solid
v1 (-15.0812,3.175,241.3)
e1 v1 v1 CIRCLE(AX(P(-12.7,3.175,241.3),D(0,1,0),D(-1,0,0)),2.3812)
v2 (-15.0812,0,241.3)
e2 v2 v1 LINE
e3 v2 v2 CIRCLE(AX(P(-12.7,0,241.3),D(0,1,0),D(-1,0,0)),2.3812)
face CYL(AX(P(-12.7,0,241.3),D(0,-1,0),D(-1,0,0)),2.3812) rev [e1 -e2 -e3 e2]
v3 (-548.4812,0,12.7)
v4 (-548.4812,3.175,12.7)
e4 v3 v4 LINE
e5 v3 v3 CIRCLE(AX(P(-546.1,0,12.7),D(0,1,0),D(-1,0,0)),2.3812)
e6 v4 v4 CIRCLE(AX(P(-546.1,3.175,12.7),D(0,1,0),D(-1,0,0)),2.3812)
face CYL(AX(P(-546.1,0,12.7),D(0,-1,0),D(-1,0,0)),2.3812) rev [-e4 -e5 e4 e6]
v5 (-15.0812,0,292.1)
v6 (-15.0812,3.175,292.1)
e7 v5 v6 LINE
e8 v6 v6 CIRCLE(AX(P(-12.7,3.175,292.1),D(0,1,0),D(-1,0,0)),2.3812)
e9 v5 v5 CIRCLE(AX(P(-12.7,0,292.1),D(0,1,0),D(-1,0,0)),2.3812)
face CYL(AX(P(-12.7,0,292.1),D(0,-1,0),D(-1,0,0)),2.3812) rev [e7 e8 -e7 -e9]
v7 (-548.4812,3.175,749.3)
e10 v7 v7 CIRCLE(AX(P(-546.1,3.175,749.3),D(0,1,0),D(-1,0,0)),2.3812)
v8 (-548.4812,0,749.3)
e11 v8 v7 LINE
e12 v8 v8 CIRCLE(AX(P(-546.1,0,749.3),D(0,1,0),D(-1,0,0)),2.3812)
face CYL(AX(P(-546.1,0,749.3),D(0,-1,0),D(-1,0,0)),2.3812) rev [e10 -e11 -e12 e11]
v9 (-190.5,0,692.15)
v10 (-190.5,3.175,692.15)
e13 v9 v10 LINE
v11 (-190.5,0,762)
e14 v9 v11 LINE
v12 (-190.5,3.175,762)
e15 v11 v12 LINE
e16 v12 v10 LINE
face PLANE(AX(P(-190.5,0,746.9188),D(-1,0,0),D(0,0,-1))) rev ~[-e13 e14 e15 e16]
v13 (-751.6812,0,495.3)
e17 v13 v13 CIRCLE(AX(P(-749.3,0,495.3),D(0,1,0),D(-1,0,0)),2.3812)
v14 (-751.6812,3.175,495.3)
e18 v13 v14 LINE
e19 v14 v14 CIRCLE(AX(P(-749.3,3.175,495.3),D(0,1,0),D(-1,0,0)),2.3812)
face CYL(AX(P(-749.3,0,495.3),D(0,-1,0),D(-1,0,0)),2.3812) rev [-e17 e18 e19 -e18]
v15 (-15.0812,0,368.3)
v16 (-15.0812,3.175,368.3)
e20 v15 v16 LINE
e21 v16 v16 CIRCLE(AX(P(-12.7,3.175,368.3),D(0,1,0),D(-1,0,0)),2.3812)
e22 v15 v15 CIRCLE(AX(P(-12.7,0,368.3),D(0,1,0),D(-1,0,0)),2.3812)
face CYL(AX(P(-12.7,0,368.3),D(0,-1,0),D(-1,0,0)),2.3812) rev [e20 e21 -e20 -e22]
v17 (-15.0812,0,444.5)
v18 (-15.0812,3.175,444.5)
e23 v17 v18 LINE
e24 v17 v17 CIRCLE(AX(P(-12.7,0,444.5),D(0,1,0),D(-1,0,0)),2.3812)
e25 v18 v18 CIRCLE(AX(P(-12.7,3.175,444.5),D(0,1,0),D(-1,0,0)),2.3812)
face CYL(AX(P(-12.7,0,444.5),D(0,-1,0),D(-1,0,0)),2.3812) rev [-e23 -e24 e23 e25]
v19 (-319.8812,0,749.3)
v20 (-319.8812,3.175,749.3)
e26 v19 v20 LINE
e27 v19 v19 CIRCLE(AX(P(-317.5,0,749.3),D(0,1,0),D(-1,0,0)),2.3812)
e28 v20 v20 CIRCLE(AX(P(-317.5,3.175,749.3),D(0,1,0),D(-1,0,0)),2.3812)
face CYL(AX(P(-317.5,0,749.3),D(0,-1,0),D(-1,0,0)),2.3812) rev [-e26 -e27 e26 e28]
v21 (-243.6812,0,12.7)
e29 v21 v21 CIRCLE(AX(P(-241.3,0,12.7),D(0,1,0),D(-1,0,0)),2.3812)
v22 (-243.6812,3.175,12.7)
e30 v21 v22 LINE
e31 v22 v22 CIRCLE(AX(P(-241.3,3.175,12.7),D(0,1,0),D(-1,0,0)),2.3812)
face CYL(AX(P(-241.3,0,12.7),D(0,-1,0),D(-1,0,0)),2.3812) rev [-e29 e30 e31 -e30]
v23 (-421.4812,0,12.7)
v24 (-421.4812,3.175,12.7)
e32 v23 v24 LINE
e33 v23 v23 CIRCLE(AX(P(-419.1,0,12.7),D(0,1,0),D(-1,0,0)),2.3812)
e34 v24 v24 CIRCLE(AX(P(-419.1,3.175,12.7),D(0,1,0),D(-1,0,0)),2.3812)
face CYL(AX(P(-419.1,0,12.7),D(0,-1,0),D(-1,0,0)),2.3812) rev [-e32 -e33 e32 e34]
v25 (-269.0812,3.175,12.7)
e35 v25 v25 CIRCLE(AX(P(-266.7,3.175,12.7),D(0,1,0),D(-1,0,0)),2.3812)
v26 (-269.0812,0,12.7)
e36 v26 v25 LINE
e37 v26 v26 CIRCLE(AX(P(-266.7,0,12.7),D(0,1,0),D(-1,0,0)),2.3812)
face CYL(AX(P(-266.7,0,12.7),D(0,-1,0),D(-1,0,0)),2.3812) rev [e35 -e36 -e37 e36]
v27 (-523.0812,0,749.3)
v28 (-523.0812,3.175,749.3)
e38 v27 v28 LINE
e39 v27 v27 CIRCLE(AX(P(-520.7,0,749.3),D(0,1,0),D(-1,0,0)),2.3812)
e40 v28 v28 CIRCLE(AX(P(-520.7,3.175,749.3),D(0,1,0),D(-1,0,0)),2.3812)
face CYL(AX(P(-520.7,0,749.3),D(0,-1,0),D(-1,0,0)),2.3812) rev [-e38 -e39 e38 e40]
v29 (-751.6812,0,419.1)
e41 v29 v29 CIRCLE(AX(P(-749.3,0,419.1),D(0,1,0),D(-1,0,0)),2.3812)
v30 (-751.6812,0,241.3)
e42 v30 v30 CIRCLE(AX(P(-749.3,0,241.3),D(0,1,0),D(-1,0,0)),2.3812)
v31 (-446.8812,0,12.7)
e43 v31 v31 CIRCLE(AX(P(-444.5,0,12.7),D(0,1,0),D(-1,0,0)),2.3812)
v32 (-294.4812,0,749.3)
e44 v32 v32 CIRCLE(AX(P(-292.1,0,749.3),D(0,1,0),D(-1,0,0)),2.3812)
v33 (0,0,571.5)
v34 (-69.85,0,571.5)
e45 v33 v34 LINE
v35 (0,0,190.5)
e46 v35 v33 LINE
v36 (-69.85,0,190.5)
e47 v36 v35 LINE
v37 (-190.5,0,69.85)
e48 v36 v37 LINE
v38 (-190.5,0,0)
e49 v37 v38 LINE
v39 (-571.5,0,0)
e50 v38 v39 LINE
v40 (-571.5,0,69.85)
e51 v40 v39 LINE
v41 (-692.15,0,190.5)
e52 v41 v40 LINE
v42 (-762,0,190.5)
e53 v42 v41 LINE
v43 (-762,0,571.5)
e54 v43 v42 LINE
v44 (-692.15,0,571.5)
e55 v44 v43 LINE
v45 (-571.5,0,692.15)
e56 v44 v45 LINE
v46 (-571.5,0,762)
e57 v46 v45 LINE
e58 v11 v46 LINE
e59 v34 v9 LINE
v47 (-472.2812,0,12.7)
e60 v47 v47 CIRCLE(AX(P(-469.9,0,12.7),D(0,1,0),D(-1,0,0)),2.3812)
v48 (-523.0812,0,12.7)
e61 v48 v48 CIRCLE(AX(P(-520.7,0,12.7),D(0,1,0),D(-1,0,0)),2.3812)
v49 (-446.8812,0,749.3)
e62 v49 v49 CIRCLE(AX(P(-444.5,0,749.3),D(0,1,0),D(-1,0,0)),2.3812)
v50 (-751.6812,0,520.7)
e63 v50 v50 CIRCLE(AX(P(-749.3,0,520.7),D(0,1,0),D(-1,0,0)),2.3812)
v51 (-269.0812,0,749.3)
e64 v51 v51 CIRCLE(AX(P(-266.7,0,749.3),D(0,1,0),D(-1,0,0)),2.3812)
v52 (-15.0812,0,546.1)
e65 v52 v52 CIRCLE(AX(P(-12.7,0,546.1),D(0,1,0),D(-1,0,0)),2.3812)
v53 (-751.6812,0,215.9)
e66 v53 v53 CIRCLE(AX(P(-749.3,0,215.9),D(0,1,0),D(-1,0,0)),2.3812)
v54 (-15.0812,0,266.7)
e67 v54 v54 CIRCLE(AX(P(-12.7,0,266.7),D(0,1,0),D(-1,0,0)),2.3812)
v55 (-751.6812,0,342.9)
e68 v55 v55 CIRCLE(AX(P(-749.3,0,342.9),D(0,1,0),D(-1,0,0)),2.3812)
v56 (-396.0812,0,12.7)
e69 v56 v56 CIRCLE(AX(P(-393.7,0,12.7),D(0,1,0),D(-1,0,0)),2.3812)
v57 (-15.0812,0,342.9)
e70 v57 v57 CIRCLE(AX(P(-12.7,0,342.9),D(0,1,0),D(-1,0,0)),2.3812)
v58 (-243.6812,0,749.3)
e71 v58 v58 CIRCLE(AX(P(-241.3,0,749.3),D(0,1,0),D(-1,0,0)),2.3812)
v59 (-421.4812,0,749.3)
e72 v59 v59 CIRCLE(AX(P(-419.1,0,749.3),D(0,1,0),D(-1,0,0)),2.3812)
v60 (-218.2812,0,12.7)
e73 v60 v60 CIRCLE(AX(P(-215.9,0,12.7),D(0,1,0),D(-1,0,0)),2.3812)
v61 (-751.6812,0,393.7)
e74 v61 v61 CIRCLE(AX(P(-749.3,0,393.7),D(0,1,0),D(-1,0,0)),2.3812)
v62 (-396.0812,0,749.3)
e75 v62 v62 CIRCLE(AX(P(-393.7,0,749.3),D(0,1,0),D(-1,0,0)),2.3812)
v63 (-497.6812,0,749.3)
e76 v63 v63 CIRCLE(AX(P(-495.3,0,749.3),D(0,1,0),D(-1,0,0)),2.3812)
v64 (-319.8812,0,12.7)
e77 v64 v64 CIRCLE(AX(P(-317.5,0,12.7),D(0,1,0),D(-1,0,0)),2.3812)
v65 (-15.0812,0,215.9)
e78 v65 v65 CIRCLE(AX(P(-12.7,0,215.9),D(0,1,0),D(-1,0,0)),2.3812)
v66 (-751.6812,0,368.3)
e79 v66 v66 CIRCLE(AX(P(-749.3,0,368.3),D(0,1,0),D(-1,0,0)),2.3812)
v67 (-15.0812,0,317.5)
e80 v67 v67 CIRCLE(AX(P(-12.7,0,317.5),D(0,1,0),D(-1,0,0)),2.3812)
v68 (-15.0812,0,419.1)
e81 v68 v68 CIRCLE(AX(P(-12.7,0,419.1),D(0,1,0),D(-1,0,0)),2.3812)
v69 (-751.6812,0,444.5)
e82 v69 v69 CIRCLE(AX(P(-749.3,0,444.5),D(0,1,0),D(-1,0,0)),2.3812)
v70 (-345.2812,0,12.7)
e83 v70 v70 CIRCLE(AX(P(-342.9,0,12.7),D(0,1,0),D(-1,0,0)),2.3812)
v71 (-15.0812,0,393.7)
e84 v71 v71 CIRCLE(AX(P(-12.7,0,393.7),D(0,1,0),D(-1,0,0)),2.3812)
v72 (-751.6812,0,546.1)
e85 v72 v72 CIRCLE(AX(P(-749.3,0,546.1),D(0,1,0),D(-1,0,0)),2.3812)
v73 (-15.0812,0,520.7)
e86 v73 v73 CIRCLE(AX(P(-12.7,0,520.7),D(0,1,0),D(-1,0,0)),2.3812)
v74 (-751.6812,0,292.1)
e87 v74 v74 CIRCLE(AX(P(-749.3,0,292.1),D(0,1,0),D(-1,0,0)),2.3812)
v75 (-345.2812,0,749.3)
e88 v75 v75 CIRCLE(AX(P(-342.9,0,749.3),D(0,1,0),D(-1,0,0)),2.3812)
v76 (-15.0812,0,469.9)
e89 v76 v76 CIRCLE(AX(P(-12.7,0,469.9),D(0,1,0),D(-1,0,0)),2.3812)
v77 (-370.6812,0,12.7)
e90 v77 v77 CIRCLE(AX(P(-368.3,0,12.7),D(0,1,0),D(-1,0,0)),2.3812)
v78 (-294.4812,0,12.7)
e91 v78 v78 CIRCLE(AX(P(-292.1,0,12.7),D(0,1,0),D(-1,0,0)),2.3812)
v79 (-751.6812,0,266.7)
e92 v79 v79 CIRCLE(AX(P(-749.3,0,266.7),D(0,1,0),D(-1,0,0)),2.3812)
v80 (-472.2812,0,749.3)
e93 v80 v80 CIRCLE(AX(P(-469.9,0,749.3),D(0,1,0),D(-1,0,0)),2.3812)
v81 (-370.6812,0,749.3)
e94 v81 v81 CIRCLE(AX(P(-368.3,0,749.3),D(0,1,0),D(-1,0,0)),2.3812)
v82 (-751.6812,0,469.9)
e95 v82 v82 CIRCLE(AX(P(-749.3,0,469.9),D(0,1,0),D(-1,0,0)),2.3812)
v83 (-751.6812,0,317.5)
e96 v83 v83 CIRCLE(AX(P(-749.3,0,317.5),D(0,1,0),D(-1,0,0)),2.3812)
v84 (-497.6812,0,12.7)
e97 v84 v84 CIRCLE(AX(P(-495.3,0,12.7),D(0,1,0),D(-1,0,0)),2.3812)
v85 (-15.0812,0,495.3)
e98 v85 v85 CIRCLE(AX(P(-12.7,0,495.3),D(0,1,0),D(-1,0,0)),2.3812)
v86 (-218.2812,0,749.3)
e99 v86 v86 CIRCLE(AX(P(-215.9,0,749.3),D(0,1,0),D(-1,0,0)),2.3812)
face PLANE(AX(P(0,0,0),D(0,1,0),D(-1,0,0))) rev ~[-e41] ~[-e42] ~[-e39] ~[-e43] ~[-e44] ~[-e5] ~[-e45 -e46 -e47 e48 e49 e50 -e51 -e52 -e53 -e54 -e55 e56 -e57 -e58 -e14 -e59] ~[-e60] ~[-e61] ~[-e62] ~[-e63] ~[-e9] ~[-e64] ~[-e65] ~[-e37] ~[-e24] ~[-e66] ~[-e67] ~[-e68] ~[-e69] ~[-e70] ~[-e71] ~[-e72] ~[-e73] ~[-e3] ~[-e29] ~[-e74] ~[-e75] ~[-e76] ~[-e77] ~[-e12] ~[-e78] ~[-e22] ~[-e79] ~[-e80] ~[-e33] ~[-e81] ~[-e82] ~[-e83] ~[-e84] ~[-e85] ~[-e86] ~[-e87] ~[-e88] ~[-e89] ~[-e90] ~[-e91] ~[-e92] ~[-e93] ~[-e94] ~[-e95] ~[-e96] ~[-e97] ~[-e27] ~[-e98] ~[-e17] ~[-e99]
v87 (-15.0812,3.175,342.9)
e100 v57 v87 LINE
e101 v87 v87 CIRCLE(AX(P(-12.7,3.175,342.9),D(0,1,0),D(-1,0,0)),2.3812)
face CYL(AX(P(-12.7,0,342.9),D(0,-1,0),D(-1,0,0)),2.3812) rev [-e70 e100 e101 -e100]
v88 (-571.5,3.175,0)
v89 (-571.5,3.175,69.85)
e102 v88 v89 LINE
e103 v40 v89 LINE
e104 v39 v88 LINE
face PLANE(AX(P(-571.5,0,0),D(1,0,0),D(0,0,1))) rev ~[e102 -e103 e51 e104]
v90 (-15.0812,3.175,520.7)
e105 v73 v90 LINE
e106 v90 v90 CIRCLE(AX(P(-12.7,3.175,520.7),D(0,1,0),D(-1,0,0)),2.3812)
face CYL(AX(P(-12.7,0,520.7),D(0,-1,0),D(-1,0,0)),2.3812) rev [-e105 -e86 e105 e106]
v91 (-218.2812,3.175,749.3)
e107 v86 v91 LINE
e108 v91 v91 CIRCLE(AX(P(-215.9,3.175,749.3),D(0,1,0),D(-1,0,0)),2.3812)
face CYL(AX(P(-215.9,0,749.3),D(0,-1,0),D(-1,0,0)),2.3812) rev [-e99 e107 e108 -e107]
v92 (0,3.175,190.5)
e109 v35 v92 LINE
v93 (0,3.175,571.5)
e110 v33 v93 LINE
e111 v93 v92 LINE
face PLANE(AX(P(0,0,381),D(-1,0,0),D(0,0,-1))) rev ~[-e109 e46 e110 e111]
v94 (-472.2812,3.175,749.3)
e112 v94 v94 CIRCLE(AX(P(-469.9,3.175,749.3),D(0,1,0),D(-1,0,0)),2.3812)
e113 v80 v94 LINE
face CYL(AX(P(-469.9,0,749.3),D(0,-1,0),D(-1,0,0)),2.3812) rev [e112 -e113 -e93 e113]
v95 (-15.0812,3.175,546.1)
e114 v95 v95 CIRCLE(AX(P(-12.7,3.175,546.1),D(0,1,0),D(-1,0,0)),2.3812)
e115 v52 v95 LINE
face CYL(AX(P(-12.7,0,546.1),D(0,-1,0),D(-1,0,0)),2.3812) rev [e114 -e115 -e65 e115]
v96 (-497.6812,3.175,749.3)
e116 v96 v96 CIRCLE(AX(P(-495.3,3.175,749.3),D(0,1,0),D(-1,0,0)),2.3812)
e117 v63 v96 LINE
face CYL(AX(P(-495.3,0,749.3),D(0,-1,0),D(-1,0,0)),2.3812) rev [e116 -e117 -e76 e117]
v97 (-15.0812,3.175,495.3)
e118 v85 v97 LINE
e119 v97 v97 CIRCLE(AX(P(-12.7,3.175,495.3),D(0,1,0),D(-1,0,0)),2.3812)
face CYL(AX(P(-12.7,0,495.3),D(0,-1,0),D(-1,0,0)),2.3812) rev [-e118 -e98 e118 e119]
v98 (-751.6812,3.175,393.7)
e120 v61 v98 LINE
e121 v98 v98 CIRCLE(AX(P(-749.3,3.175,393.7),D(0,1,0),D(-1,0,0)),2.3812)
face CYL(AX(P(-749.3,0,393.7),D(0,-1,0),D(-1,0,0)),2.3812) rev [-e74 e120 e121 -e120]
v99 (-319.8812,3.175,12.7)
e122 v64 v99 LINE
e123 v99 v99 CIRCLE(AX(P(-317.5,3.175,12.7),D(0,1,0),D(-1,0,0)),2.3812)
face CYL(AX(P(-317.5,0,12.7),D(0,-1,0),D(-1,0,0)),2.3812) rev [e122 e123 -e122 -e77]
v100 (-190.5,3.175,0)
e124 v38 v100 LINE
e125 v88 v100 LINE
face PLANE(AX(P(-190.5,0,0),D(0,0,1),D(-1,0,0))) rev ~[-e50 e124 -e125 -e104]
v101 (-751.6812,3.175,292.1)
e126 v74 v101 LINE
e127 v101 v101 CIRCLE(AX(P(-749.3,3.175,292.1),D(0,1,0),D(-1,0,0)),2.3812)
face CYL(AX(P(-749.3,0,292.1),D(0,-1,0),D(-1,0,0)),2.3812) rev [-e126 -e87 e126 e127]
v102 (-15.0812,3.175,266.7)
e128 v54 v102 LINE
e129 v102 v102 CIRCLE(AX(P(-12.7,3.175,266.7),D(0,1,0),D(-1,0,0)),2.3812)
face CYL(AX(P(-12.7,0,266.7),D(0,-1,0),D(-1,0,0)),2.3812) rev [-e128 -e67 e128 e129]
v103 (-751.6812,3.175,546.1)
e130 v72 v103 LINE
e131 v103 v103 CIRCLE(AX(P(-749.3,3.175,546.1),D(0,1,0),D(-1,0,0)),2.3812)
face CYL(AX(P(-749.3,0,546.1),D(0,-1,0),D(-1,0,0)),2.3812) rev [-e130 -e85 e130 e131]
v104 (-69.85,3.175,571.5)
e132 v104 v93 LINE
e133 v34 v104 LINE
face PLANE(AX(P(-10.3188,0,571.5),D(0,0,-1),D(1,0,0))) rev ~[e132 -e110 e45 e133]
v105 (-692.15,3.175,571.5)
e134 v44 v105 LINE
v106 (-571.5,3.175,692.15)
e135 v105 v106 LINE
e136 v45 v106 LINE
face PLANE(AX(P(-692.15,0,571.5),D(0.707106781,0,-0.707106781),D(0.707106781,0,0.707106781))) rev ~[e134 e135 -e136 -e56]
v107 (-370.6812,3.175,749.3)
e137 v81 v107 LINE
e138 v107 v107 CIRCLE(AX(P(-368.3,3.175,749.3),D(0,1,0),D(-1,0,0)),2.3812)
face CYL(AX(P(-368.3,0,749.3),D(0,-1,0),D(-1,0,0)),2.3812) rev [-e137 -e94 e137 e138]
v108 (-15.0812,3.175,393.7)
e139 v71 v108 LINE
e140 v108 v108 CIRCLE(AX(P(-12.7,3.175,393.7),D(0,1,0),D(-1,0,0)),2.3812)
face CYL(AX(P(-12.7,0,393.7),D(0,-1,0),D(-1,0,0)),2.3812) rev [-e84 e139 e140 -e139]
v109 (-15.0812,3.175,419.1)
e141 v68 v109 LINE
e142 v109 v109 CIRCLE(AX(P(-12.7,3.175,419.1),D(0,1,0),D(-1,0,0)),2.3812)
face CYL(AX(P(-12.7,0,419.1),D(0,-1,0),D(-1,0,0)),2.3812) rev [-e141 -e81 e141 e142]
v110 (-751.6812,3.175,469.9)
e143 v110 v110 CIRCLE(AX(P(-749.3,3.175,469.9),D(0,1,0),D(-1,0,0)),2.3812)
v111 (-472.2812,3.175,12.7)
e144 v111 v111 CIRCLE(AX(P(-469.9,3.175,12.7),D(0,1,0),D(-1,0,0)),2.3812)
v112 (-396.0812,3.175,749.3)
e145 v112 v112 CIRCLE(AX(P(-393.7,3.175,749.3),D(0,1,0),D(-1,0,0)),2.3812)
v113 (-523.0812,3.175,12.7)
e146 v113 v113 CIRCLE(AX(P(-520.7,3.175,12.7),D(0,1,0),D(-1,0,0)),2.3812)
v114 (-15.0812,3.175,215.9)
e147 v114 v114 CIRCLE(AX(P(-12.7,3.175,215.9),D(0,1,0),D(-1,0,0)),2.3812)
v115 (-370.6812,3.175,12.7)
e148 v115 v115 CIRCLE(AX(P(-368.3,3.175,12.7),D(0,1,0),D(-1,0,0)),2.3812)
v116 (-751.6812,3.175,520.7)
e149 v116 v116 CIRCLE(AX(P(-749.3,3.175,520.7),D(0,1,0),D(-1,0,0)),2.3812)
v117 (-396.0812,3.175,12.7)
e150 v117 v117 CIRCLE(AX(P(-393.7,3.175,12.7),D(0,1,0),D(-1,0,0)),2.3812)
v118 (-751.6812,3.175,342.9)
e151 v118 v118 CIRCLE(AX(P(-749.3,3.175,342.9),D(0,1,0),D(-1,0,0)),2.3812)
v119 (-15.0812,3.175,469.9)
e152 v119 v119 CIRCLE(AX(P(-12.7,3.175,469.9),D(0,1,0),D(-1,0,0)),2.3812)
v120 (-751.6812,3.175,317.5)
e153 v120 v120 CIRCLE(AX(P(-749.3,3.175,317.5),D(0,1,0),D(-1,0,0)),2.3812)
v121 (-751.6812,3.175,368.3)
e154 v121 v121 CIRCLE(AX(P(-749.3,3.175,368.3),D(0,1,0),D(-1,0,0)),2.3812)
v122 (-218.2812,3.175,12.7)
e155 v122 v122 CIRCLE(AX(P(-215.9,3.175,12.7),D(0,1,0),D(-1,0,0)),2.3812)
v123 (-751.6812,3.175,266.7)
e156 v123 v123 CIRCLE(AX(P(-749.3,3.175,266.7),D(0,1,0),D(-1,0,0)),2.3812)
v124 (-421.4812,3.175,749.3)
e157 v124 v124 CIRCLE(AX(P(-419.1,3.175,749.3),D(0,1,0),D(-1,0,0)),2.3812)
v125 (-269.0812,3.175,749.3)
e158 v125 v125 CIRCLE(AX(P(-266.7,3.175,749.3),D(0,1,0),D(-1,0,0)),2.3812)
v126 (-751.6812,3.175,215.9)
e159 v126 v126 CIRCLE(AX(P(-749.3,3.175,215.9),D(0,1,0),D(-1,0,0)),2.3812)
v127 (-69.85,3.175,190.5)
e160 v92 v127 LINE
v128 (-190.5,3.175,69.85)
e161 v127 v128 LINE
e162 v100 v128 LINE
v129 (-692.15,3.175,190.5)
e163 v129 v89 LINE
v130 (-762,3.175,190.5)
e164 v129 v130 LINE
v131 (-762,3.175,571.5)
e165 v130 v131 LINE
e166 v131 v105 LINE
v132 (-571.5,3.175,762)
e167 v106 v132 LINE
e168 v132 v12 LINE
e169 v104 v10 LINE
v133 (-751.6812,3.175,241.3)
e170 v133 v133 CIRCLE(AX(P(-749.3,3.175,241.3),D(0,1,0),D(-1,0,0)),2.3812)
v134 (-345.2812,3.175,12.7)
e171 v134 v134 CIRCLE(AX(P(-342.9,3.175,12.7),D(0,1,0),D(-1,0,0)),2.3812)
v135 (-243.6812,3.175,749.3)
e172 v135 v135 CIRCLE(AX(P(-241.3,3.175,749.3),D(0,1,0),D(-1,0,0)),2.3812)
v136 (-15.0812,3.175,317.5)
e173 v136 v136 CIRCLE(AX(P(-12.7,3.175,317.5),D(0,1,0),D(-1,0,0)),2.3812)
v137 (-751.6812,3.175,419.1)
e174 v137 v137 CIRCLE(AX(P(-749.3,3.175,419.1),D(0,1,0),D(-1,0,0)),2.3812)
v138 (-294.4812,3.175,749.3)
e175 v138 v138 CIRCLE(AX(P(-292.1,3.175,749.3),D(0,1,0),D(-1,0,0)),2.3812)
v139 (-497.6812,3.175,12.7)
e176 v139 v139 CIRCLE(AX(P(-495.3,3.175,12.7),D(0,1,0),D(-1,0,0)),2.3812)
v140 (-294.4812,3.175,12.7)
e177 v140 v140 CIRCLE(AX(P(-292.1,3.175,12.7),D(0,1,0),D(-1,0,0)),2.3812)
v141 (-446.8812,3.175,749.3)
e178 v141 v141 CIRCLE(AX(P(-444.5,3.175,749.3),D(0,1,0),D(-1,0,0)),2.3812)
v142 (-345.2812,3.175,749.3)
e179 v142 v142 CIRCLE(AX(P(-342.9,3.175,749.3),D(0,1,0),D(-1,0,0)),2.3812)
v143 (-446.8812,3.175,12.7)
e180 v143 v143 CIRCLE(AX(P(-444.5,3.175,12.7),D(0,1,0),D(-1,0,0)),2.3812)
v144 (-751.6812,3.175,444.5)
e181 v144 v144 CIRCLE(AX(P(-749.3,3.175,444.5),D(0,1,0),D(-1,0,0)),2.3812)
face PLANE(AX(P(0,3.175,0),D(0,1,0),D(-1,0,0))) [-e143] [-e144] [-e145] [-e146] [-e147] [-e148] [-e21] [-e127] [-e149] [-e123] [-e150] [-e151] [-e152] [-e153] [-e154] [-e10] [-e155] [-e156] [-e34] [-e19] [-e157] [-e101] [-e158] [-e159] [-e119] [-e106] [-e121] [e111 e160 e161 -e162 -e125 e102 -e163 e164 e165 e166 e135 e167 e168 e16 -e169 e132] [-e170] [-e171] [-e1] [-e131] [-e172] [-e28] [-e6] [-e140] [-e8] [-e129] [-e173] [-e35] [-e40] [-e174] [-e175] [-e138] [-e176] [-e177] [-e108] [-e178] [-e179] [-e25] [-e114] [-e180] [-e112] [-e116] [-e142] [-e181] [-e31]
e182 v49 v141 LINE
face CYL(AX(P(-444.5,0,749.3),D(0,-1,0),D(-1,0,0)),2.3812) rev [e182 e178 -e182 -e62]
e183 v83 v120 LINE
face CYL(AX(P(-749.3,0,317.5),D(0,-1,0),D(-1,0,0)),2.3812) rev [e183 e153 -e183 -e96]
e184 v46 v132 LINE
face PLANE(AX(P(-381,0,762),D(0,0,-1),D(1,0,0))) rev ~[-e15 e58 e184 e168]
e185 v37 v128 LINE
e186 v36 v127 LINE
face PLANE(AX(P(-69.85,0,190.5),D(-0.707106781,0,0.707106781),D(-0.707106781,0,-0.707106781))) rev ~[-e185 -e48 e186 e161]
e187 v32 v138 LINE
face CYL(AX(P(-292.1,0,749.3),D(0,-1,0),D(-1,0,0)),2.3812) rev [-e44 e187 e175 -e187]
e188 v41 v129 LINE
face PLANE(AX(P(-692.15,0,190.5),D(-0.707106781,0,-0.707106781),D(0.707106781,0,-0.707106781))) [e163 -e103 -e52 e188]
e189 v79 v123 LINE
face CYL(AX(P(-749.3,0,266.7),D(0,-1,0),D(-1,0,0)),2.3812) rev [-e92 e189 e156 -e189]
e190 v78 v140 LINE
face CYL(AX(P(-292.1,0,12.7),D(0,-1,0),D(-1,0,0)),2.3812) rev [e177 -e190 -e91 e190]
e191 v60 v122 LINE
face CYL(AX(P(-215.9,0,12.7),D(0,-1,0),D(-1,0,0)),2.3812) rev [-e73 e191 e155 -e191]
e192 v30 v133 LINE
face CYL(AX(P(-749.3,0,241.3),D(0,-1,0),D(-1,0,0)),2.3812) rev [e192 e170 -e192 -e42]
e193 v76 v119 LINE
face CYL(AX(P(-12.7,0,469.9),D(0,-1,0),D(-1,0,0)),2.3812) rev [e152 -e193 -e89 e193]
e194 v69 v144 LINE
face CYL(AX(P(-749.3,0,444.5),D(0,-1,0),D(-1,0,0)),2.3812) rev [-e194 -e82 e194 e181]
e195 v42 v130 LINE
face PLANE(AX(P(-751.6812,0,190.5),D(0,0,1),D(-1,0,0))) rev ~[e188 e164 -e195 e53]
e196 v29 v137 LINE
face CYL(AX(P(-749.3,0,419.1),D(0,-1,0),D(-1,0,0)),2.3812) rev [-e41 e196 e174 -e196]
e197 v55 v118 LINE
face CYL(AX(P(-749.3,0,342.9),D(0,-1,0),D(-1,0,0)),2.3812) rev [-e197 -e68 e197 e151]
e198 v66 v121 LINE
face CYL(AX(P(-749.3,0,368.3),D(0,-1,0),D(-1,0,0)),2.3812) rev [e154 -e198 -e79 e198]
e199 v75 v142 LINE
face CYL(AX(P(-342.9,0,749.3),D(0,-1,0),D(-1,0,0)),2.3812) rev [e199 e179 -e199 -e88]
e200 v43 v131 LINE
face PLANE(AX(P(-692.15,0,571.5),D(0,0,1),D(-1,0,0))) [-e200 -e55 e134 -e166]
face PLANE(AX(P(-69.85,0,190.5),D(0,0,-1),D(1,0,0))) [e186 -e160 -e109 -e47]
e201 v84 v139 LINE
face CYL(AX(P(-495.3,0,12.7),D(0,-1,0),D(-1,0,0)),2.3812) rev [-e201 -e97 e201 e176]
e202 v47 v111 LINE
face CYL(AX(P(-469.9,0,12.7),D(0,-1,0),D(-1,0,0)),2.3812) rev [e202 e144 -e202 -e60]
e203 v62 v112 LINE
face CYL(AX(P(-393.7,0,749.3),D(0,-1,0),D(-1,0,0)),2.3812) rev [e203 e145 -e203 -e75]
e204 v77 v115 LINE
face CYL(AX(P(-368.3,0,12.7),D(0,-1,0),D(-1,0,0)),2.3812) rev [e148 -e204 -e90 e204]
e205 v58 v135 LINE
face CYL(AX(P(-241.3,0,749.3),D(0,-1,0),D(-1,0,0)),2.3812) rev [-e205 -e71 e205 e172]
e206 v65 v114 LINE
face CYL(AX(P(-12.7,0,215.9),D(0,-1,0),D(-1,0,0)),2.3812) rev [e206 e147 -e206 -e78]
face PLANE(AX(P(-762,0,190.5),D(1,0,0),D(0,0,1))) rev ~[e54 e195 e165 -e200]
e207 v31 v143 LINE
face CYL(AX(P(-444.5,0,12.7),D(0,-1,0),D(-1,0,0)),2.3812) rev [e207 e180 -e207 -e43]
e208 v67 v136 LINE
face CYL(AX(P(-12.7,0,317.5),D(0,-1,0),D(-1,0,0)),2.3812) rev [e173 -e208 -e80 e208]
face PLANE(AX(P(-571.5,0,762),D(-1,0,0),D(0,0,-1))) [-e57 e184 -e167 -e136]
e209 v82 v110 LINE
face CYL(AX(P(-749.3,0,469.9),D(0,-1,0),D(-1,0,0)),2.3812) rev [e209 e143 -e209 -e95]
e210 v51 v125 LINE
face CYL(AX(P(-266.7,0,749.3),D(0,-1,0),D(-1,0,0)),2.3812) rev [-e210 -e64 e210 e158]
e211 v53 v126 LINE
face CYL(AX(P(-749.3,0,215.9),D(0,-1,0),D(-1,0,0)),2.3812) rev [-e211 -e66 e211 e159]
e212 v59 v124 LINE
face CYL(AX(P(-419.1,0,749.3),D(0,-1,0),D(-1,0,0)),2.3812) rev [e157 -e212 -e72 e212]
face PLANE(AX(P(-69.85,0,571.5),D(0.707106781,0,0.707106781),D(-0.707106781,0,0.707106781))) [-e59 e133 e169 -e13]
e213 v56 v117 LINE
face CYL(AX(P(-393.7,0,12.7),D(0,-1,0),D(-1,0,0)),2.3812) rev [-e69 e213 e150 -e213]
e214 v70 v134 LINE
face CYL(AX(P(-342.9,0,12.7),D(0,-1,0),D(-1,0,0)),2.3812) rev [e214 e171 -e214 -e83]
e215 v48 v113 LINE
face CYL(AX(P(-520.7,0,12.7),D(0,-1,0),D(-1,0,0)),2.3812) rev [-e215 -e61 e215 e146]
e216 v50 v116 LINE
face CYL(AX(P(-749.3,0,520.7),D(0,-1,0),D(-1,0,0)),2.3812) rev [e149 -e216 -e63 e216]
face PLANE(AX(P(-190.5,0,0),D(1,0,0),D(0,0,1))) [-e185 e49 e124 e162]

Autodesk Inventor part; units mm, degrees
ref_plane "YZ Plane" through (0, 0, 0) normal (1, 0, 0) x (0, 1, 0)
ref_plane "XZ Plane" through (0, 0, 0) normal (0, 1, 0) x (-1, 0, 0)
ref_plane "XY Plane" through (0, 0, 0) normal (0, 0, 1) x (1, 0, 0)
sketch "Sketch1" plane through (0, 0, 0) normal (0, 1, 0) x (-1, 0, 0)
  line L0 (0, 0) -> (762, 0)
  line L1 (762, 0) -> (762, 762)
  line L2 (762, 762) -> (0, 762)
  line L3 (0, 762) -> (0, 0)
  line L4 (0, 0) -> (190.5, 0)
  line L5 (190.5, 0) -> (190.5, 69.85)
  line L6 (190.5, 69.85) -> (0, 69.85)
  line L7 (0, 69.85) -> (0, 0)
  line L8 (0, 0) -> (69.85, 0)
  line L9 (69.85, 0) -> (69.85, 190.5)
  line L10 (69.85, 190.5) -> (0, 190.5)
  line L11 (0, 190.5) -> (0, 0)
  line L12 (69.85, 190.5) -> (190.5, 69.85)
  line L13 (381, 0) -> (381, 762)
  line L14 (0, 381) -> (762, 381)
  line L15 (190.5, 762) -> (190.5, 692.15)
  line L16 (190.5, 692.15) -> (0, 692.15)
  line L17 (69.85, 762) -> (69.85, 571.5)
  line L18 (69.85, 571.5) -> (0, 571.5)
  line L19 (69.85, 571.5) -> (190.5, 692.15)
  line L20 (571.5, 0) -> (571.5, 69.85)
  line L21 (571.5, 69.85) -> (762, 69.85)
  line L22 (692.15, 0) -> (692.15, 190.5)
  line L23 (692.15, 190.5) -> (762, 190.5)
  line L24 (692.15, 190.5) -> (571.5, 69.85)
  line L25 (571.5, 692.15) -> (762, 692.15)
  line L26 (692.15, 571.5) -> (571.5, 692.15)
  line L27 (692.15, 762) -> (692.15, 571.5)
  line L28 (571.5, 762) -> (571.5, 692.15)
  line L29 (692.15, 571.5) -> (762, 571.5)
  circle A0 centre (749.3, 749.3) radius 2.3812
  circle A1 centre (749.3, 723.9) radius 2.3812
  circle A2 centre (749.3, 698.5) radius 2.3812
  circle A3 centre (749.3, 673.1) radius 2.3812
  circle A4 centre (749.3, 647.7) radius 2.3812
  circle A5 centre (749.3, 622.3) radius 2.3812
  circle A6 centre (749.3, 596.9) radius 2.3812
  circle A7 centre (749.3, 571.5) radius 2.3812
  circle A8 centre (749.3, 546.1) radius 2.3812
  circle A9 centre (749.3, 520.7) radius 2.3812
  circle A10 centre (749.3, 495.3) radius 2.3812
  circle A11 centre (749.3, 469.9) radius 2.3812
  circle A12 centre (749.3, 444.5) radius 2.3812
  circle A13 centre (749.3, 419.1) radius 2.3812
  circle A14 centre (749.3, 393.7) radius 2.3812
  circle A15 centre (749.3, 368.3) radius 2.3812
  circle A16 centre (749.3, 342.9) radius 2.3812
  circle A17 centre (749.3, 317.5) radius 2.3812
  circle A18 centre (749.3, 292.1) radius 2.3812
  circle A19 centre (749.3, 266.7) radius 2.3812
  circle A20 centre (749.3, 241.3) radius 2.3812
  circle A21 centre (749.3, 215.9) radius 2.3812
  circle A22 centre (749.3, 190.5) radius 2.3812
  circle A23 centre (749.3, 165.1) radius 2.3812
  circle A24 centre (749.3, 139.7) radius 2.3812
  circle A25 centre (749.3, 114.3) radius 2.3812
  circle A26 centre (749.3, 88.9) radius 2.3812
  circle A27 centre (749.3, 63.5) radius 2.3812
  circle A28 centre (749.3, 38.1) radius 2.3812
  circle A29 centre (749.3, 12.7) radius 2.3812
  circle A30 centre (12.7, 749.3) radius 2.3812
  circle A31 centre (12.7, 723.9) radius 2.3812
  circle A32 centre (12.7, 698.5) radius 2.3812
  circle A33 centre (12.7, 673.1) radius 2.3812
  circle A34 centre (12.7, 647.7) radius 2.3812
  circle A35 centre (12.7, 622.3) radius 2.3812
  circle A36 centre (12.7, 596.9) radius 2.3812
  circle A37 centre (12.7, 571.5) radius 2.3812
  circle A38 centre (12.7, 546.1) radius 2.3812
  circle A39 centre (12.7, 520.7) radius 2.3812
  circle A40 centre (12.7, 495.3) radius 2.3812
  circle A41 centre (12.7, 469.9) radius 2.3812
  circle A42 centre (12.7, 444.5) radius 2.3812
  circle A43 centre (12.7, 419.1) radius 2.3812
  circle A44 centre (12.7, 393.7) radius 2.3812
  circle A45 centre (12.7, 368.3) radius 2.3812
  circle A46 centre (12.7, 342.9) radius 2.3812
  circle A47 centre (12.7, 317.5) radius 2.3812
  circle A48 centre (12.7, 292.1) radius 2.3812
  circle A49 centre (12.7, 266.7) radius 2.3812
  circle A50 centre (12.7, 241.3) radius 2.3812
  circle A51 centre (12.7, 215.9) radius 2.3812
  circle A52 centre (12.7, 190.5) radius 2.3812
  circle A53 centre (12.7, 165.1) radius 2.3812
  circle A54 centre (12.7, 139.7) radius 2.3812
  circle A55 centre (12.7, 114.3) radius 2.3812
  circle A56 centre (12.7, 88.9) radius 2.3812
  circle A57 centre (12.7, 63.5) radius 2.3812
  circle A58 centre (12.7, 38.1) radius 2.3812
  circle A59 centre (12.7, 12.7) radius 2.3812
  circle A60 centre (723.9, 749.3) radius 2.3812
  circle A61 centre (698.5, 749.3) radius 2.3812
  circle A62 centre (673.1, 749.3) radius 2.3812
  circle A63 centre (647.7, 749.3) radius 2.3812
  circle A64 centre (622.3, 749.3) radius 2.3812
  circle A65 centre (596.9, 749.3) radius 2.3812
  circle A66 centre (571.5, 749.3) radius 2.3812
  circle A67 centre (546.1, 749.3) radius 2.3812
  circle A68 centre (520.7, 749.3) radius 2.3812
  circle A69 centre (495.3, 749.3) radius 2.3812
  circle A70 centre (469.9, 749.3) radius 2.3812
  circle A71 centre (444.5, 749.3) radius 2.3812
  circle A72 centre (419.1, 749.3) radius 2.3812
  circle A73 centre (393.7, 749.3) radius 2.3812
  circle A74 centre (368.3, 749.3) radius 2.3812
  circle A75 centre (342.9, 749.3) radius 2.3812
  circle A76 centre (317.5, 749.3) radius 2.3812
  circle A77 centre (292.1, 749.3) radius 2.3812
  circle A78 centre (266.7, 749.3) radius 2.3812
  circle A79 centre (241.3, 749.3) radius 2.3812
  circle A80 centre (215.9, 749.3) radius 2.3812
  circle A81 centre (190.5, 749.3) radius 2.3812
  circle A82 centre (165.1, 749.3) radius 2.3812
  circle A83 centre (139.7, 749.3) radius 2.3812
  circle A84 centre (114.3, 749.3) radius 2.3812
  circle A85 centre (88.9, 749.3) radius 2.3812
  circle A86 centre (63.5, 749.3) radius 2.3812
  circle A87 centre (38.1, 749.3) radius 2.3812
  circle A88 centre (12.7, 749.3) radius 2.3812
  circle A89 centre (749.3, 12.7) radius 2.3812
  circle A90 centre (723.9, 12.7) radius 2.3812
  circle A91 centre (698.5, 12.7) radius 2.3812
  circle A92 centre (673.1, 12.7) radius 2.3812
  circle A93 centre (647.7, 12.7) radius 2.3812
  circle A94 centre (622.3, 12.7) radius 2.3812
  circle A95 centre (596.9, 12.7) radius 2.3812
  circle A96 centre (571.5, 12.7) radius 2.3812
  circle A97 centre (546.1, 12.7) radius 2.3812
  circle A98 centre (520.7, 12.7) radius 2.3812
  circle A99 centre (495.3, 12.7) radius 2.3812
  circle A100 centre (469.9, 12.7) radius 2.3812
  circle A101 centre (444.5, 12.7) radius 2.3812
  circle A102 centre (419.1, 12.7) radius 2.3812
  circle A103 centre (393.7, 12.7) radius 2.3812
  circle A104 centre (368.3, 12.7) radius 2.3812
  circle A105 centre (342.9, 12.7) radius 2.3812
  circle A106 centre (317.5, 12.7) radius 2.3812
  circle A107 centre (292.1, 12.7) radius 2.3812
  circle A108 centre (266.7, 12.7) radius 2.3812
  circle A109 centre (241.3, 12.7) radius 2.3812
  circle A110 centre (215.9, 12.7) radius 2.3812
  circle A111 centre (190.5, 12.7) radius 2.3812
  circle A112 centre (165.1, 12.7) radius 2.3812
  circle A113 centre (139.7, 12.7) radius 2.3812
  circle A114 centre (114.3, 12.7) radius 2.3812
  circle A115 centre (88.9, 12.7) radius 2.3812
  circle A116 centre (63.5, 12.7) radius 2.3812
  circle A117 centre (38.1, 12.7) radius 2.3812
  circle A118 centre (12.7, 12.7) radius 2.3812
  dimension "d0" = 762
  dimension "d1" = 762
  dimension "d2" = 190.5
  dimension "d3" = 69.85
  dimension "d4" = 69.85
  dimension "d5" = 190.5
  dimension "d29" = 12.7
  dimension "d30" = 12.7
  dimension "d31" = 4.7625
  dimension "d34" = 25.4
  dimension "d37" = 736.6
  dimension "d42" = 25.4
  dimension "d45" = 736.6
extrude "Extrusion1" add sketch "Sketch1" along normal blind 3.175 contours L5 A111 L12 L10 A52 L3 L14 L13 L0 | L13 L14 L1 L23 A22 L24 L20 A96 L0 | L5 A111 | L3 L18 A37 L19 L15 A81 L2 L13 L14 | A52 L10 | L13 L2 L28 A66 L26 L29 A7 L1 L14 | A96 L20 | L18 A37 | L28 A66 | A81 L15 | L23 A22 | A7 L29 picked at (191.2937, 12.7) picked at (13.1509, 191.1532) picked at (570.7578, 12.4185) picked at (12.2491, 570.8468) picked at (570.7578, 749.5815) picked at (191.6271, 749.4766) picked at (749.3957, 191.6679) picked at (749.5815, 570.7578)
properties part number "Base Plate V1.2"
